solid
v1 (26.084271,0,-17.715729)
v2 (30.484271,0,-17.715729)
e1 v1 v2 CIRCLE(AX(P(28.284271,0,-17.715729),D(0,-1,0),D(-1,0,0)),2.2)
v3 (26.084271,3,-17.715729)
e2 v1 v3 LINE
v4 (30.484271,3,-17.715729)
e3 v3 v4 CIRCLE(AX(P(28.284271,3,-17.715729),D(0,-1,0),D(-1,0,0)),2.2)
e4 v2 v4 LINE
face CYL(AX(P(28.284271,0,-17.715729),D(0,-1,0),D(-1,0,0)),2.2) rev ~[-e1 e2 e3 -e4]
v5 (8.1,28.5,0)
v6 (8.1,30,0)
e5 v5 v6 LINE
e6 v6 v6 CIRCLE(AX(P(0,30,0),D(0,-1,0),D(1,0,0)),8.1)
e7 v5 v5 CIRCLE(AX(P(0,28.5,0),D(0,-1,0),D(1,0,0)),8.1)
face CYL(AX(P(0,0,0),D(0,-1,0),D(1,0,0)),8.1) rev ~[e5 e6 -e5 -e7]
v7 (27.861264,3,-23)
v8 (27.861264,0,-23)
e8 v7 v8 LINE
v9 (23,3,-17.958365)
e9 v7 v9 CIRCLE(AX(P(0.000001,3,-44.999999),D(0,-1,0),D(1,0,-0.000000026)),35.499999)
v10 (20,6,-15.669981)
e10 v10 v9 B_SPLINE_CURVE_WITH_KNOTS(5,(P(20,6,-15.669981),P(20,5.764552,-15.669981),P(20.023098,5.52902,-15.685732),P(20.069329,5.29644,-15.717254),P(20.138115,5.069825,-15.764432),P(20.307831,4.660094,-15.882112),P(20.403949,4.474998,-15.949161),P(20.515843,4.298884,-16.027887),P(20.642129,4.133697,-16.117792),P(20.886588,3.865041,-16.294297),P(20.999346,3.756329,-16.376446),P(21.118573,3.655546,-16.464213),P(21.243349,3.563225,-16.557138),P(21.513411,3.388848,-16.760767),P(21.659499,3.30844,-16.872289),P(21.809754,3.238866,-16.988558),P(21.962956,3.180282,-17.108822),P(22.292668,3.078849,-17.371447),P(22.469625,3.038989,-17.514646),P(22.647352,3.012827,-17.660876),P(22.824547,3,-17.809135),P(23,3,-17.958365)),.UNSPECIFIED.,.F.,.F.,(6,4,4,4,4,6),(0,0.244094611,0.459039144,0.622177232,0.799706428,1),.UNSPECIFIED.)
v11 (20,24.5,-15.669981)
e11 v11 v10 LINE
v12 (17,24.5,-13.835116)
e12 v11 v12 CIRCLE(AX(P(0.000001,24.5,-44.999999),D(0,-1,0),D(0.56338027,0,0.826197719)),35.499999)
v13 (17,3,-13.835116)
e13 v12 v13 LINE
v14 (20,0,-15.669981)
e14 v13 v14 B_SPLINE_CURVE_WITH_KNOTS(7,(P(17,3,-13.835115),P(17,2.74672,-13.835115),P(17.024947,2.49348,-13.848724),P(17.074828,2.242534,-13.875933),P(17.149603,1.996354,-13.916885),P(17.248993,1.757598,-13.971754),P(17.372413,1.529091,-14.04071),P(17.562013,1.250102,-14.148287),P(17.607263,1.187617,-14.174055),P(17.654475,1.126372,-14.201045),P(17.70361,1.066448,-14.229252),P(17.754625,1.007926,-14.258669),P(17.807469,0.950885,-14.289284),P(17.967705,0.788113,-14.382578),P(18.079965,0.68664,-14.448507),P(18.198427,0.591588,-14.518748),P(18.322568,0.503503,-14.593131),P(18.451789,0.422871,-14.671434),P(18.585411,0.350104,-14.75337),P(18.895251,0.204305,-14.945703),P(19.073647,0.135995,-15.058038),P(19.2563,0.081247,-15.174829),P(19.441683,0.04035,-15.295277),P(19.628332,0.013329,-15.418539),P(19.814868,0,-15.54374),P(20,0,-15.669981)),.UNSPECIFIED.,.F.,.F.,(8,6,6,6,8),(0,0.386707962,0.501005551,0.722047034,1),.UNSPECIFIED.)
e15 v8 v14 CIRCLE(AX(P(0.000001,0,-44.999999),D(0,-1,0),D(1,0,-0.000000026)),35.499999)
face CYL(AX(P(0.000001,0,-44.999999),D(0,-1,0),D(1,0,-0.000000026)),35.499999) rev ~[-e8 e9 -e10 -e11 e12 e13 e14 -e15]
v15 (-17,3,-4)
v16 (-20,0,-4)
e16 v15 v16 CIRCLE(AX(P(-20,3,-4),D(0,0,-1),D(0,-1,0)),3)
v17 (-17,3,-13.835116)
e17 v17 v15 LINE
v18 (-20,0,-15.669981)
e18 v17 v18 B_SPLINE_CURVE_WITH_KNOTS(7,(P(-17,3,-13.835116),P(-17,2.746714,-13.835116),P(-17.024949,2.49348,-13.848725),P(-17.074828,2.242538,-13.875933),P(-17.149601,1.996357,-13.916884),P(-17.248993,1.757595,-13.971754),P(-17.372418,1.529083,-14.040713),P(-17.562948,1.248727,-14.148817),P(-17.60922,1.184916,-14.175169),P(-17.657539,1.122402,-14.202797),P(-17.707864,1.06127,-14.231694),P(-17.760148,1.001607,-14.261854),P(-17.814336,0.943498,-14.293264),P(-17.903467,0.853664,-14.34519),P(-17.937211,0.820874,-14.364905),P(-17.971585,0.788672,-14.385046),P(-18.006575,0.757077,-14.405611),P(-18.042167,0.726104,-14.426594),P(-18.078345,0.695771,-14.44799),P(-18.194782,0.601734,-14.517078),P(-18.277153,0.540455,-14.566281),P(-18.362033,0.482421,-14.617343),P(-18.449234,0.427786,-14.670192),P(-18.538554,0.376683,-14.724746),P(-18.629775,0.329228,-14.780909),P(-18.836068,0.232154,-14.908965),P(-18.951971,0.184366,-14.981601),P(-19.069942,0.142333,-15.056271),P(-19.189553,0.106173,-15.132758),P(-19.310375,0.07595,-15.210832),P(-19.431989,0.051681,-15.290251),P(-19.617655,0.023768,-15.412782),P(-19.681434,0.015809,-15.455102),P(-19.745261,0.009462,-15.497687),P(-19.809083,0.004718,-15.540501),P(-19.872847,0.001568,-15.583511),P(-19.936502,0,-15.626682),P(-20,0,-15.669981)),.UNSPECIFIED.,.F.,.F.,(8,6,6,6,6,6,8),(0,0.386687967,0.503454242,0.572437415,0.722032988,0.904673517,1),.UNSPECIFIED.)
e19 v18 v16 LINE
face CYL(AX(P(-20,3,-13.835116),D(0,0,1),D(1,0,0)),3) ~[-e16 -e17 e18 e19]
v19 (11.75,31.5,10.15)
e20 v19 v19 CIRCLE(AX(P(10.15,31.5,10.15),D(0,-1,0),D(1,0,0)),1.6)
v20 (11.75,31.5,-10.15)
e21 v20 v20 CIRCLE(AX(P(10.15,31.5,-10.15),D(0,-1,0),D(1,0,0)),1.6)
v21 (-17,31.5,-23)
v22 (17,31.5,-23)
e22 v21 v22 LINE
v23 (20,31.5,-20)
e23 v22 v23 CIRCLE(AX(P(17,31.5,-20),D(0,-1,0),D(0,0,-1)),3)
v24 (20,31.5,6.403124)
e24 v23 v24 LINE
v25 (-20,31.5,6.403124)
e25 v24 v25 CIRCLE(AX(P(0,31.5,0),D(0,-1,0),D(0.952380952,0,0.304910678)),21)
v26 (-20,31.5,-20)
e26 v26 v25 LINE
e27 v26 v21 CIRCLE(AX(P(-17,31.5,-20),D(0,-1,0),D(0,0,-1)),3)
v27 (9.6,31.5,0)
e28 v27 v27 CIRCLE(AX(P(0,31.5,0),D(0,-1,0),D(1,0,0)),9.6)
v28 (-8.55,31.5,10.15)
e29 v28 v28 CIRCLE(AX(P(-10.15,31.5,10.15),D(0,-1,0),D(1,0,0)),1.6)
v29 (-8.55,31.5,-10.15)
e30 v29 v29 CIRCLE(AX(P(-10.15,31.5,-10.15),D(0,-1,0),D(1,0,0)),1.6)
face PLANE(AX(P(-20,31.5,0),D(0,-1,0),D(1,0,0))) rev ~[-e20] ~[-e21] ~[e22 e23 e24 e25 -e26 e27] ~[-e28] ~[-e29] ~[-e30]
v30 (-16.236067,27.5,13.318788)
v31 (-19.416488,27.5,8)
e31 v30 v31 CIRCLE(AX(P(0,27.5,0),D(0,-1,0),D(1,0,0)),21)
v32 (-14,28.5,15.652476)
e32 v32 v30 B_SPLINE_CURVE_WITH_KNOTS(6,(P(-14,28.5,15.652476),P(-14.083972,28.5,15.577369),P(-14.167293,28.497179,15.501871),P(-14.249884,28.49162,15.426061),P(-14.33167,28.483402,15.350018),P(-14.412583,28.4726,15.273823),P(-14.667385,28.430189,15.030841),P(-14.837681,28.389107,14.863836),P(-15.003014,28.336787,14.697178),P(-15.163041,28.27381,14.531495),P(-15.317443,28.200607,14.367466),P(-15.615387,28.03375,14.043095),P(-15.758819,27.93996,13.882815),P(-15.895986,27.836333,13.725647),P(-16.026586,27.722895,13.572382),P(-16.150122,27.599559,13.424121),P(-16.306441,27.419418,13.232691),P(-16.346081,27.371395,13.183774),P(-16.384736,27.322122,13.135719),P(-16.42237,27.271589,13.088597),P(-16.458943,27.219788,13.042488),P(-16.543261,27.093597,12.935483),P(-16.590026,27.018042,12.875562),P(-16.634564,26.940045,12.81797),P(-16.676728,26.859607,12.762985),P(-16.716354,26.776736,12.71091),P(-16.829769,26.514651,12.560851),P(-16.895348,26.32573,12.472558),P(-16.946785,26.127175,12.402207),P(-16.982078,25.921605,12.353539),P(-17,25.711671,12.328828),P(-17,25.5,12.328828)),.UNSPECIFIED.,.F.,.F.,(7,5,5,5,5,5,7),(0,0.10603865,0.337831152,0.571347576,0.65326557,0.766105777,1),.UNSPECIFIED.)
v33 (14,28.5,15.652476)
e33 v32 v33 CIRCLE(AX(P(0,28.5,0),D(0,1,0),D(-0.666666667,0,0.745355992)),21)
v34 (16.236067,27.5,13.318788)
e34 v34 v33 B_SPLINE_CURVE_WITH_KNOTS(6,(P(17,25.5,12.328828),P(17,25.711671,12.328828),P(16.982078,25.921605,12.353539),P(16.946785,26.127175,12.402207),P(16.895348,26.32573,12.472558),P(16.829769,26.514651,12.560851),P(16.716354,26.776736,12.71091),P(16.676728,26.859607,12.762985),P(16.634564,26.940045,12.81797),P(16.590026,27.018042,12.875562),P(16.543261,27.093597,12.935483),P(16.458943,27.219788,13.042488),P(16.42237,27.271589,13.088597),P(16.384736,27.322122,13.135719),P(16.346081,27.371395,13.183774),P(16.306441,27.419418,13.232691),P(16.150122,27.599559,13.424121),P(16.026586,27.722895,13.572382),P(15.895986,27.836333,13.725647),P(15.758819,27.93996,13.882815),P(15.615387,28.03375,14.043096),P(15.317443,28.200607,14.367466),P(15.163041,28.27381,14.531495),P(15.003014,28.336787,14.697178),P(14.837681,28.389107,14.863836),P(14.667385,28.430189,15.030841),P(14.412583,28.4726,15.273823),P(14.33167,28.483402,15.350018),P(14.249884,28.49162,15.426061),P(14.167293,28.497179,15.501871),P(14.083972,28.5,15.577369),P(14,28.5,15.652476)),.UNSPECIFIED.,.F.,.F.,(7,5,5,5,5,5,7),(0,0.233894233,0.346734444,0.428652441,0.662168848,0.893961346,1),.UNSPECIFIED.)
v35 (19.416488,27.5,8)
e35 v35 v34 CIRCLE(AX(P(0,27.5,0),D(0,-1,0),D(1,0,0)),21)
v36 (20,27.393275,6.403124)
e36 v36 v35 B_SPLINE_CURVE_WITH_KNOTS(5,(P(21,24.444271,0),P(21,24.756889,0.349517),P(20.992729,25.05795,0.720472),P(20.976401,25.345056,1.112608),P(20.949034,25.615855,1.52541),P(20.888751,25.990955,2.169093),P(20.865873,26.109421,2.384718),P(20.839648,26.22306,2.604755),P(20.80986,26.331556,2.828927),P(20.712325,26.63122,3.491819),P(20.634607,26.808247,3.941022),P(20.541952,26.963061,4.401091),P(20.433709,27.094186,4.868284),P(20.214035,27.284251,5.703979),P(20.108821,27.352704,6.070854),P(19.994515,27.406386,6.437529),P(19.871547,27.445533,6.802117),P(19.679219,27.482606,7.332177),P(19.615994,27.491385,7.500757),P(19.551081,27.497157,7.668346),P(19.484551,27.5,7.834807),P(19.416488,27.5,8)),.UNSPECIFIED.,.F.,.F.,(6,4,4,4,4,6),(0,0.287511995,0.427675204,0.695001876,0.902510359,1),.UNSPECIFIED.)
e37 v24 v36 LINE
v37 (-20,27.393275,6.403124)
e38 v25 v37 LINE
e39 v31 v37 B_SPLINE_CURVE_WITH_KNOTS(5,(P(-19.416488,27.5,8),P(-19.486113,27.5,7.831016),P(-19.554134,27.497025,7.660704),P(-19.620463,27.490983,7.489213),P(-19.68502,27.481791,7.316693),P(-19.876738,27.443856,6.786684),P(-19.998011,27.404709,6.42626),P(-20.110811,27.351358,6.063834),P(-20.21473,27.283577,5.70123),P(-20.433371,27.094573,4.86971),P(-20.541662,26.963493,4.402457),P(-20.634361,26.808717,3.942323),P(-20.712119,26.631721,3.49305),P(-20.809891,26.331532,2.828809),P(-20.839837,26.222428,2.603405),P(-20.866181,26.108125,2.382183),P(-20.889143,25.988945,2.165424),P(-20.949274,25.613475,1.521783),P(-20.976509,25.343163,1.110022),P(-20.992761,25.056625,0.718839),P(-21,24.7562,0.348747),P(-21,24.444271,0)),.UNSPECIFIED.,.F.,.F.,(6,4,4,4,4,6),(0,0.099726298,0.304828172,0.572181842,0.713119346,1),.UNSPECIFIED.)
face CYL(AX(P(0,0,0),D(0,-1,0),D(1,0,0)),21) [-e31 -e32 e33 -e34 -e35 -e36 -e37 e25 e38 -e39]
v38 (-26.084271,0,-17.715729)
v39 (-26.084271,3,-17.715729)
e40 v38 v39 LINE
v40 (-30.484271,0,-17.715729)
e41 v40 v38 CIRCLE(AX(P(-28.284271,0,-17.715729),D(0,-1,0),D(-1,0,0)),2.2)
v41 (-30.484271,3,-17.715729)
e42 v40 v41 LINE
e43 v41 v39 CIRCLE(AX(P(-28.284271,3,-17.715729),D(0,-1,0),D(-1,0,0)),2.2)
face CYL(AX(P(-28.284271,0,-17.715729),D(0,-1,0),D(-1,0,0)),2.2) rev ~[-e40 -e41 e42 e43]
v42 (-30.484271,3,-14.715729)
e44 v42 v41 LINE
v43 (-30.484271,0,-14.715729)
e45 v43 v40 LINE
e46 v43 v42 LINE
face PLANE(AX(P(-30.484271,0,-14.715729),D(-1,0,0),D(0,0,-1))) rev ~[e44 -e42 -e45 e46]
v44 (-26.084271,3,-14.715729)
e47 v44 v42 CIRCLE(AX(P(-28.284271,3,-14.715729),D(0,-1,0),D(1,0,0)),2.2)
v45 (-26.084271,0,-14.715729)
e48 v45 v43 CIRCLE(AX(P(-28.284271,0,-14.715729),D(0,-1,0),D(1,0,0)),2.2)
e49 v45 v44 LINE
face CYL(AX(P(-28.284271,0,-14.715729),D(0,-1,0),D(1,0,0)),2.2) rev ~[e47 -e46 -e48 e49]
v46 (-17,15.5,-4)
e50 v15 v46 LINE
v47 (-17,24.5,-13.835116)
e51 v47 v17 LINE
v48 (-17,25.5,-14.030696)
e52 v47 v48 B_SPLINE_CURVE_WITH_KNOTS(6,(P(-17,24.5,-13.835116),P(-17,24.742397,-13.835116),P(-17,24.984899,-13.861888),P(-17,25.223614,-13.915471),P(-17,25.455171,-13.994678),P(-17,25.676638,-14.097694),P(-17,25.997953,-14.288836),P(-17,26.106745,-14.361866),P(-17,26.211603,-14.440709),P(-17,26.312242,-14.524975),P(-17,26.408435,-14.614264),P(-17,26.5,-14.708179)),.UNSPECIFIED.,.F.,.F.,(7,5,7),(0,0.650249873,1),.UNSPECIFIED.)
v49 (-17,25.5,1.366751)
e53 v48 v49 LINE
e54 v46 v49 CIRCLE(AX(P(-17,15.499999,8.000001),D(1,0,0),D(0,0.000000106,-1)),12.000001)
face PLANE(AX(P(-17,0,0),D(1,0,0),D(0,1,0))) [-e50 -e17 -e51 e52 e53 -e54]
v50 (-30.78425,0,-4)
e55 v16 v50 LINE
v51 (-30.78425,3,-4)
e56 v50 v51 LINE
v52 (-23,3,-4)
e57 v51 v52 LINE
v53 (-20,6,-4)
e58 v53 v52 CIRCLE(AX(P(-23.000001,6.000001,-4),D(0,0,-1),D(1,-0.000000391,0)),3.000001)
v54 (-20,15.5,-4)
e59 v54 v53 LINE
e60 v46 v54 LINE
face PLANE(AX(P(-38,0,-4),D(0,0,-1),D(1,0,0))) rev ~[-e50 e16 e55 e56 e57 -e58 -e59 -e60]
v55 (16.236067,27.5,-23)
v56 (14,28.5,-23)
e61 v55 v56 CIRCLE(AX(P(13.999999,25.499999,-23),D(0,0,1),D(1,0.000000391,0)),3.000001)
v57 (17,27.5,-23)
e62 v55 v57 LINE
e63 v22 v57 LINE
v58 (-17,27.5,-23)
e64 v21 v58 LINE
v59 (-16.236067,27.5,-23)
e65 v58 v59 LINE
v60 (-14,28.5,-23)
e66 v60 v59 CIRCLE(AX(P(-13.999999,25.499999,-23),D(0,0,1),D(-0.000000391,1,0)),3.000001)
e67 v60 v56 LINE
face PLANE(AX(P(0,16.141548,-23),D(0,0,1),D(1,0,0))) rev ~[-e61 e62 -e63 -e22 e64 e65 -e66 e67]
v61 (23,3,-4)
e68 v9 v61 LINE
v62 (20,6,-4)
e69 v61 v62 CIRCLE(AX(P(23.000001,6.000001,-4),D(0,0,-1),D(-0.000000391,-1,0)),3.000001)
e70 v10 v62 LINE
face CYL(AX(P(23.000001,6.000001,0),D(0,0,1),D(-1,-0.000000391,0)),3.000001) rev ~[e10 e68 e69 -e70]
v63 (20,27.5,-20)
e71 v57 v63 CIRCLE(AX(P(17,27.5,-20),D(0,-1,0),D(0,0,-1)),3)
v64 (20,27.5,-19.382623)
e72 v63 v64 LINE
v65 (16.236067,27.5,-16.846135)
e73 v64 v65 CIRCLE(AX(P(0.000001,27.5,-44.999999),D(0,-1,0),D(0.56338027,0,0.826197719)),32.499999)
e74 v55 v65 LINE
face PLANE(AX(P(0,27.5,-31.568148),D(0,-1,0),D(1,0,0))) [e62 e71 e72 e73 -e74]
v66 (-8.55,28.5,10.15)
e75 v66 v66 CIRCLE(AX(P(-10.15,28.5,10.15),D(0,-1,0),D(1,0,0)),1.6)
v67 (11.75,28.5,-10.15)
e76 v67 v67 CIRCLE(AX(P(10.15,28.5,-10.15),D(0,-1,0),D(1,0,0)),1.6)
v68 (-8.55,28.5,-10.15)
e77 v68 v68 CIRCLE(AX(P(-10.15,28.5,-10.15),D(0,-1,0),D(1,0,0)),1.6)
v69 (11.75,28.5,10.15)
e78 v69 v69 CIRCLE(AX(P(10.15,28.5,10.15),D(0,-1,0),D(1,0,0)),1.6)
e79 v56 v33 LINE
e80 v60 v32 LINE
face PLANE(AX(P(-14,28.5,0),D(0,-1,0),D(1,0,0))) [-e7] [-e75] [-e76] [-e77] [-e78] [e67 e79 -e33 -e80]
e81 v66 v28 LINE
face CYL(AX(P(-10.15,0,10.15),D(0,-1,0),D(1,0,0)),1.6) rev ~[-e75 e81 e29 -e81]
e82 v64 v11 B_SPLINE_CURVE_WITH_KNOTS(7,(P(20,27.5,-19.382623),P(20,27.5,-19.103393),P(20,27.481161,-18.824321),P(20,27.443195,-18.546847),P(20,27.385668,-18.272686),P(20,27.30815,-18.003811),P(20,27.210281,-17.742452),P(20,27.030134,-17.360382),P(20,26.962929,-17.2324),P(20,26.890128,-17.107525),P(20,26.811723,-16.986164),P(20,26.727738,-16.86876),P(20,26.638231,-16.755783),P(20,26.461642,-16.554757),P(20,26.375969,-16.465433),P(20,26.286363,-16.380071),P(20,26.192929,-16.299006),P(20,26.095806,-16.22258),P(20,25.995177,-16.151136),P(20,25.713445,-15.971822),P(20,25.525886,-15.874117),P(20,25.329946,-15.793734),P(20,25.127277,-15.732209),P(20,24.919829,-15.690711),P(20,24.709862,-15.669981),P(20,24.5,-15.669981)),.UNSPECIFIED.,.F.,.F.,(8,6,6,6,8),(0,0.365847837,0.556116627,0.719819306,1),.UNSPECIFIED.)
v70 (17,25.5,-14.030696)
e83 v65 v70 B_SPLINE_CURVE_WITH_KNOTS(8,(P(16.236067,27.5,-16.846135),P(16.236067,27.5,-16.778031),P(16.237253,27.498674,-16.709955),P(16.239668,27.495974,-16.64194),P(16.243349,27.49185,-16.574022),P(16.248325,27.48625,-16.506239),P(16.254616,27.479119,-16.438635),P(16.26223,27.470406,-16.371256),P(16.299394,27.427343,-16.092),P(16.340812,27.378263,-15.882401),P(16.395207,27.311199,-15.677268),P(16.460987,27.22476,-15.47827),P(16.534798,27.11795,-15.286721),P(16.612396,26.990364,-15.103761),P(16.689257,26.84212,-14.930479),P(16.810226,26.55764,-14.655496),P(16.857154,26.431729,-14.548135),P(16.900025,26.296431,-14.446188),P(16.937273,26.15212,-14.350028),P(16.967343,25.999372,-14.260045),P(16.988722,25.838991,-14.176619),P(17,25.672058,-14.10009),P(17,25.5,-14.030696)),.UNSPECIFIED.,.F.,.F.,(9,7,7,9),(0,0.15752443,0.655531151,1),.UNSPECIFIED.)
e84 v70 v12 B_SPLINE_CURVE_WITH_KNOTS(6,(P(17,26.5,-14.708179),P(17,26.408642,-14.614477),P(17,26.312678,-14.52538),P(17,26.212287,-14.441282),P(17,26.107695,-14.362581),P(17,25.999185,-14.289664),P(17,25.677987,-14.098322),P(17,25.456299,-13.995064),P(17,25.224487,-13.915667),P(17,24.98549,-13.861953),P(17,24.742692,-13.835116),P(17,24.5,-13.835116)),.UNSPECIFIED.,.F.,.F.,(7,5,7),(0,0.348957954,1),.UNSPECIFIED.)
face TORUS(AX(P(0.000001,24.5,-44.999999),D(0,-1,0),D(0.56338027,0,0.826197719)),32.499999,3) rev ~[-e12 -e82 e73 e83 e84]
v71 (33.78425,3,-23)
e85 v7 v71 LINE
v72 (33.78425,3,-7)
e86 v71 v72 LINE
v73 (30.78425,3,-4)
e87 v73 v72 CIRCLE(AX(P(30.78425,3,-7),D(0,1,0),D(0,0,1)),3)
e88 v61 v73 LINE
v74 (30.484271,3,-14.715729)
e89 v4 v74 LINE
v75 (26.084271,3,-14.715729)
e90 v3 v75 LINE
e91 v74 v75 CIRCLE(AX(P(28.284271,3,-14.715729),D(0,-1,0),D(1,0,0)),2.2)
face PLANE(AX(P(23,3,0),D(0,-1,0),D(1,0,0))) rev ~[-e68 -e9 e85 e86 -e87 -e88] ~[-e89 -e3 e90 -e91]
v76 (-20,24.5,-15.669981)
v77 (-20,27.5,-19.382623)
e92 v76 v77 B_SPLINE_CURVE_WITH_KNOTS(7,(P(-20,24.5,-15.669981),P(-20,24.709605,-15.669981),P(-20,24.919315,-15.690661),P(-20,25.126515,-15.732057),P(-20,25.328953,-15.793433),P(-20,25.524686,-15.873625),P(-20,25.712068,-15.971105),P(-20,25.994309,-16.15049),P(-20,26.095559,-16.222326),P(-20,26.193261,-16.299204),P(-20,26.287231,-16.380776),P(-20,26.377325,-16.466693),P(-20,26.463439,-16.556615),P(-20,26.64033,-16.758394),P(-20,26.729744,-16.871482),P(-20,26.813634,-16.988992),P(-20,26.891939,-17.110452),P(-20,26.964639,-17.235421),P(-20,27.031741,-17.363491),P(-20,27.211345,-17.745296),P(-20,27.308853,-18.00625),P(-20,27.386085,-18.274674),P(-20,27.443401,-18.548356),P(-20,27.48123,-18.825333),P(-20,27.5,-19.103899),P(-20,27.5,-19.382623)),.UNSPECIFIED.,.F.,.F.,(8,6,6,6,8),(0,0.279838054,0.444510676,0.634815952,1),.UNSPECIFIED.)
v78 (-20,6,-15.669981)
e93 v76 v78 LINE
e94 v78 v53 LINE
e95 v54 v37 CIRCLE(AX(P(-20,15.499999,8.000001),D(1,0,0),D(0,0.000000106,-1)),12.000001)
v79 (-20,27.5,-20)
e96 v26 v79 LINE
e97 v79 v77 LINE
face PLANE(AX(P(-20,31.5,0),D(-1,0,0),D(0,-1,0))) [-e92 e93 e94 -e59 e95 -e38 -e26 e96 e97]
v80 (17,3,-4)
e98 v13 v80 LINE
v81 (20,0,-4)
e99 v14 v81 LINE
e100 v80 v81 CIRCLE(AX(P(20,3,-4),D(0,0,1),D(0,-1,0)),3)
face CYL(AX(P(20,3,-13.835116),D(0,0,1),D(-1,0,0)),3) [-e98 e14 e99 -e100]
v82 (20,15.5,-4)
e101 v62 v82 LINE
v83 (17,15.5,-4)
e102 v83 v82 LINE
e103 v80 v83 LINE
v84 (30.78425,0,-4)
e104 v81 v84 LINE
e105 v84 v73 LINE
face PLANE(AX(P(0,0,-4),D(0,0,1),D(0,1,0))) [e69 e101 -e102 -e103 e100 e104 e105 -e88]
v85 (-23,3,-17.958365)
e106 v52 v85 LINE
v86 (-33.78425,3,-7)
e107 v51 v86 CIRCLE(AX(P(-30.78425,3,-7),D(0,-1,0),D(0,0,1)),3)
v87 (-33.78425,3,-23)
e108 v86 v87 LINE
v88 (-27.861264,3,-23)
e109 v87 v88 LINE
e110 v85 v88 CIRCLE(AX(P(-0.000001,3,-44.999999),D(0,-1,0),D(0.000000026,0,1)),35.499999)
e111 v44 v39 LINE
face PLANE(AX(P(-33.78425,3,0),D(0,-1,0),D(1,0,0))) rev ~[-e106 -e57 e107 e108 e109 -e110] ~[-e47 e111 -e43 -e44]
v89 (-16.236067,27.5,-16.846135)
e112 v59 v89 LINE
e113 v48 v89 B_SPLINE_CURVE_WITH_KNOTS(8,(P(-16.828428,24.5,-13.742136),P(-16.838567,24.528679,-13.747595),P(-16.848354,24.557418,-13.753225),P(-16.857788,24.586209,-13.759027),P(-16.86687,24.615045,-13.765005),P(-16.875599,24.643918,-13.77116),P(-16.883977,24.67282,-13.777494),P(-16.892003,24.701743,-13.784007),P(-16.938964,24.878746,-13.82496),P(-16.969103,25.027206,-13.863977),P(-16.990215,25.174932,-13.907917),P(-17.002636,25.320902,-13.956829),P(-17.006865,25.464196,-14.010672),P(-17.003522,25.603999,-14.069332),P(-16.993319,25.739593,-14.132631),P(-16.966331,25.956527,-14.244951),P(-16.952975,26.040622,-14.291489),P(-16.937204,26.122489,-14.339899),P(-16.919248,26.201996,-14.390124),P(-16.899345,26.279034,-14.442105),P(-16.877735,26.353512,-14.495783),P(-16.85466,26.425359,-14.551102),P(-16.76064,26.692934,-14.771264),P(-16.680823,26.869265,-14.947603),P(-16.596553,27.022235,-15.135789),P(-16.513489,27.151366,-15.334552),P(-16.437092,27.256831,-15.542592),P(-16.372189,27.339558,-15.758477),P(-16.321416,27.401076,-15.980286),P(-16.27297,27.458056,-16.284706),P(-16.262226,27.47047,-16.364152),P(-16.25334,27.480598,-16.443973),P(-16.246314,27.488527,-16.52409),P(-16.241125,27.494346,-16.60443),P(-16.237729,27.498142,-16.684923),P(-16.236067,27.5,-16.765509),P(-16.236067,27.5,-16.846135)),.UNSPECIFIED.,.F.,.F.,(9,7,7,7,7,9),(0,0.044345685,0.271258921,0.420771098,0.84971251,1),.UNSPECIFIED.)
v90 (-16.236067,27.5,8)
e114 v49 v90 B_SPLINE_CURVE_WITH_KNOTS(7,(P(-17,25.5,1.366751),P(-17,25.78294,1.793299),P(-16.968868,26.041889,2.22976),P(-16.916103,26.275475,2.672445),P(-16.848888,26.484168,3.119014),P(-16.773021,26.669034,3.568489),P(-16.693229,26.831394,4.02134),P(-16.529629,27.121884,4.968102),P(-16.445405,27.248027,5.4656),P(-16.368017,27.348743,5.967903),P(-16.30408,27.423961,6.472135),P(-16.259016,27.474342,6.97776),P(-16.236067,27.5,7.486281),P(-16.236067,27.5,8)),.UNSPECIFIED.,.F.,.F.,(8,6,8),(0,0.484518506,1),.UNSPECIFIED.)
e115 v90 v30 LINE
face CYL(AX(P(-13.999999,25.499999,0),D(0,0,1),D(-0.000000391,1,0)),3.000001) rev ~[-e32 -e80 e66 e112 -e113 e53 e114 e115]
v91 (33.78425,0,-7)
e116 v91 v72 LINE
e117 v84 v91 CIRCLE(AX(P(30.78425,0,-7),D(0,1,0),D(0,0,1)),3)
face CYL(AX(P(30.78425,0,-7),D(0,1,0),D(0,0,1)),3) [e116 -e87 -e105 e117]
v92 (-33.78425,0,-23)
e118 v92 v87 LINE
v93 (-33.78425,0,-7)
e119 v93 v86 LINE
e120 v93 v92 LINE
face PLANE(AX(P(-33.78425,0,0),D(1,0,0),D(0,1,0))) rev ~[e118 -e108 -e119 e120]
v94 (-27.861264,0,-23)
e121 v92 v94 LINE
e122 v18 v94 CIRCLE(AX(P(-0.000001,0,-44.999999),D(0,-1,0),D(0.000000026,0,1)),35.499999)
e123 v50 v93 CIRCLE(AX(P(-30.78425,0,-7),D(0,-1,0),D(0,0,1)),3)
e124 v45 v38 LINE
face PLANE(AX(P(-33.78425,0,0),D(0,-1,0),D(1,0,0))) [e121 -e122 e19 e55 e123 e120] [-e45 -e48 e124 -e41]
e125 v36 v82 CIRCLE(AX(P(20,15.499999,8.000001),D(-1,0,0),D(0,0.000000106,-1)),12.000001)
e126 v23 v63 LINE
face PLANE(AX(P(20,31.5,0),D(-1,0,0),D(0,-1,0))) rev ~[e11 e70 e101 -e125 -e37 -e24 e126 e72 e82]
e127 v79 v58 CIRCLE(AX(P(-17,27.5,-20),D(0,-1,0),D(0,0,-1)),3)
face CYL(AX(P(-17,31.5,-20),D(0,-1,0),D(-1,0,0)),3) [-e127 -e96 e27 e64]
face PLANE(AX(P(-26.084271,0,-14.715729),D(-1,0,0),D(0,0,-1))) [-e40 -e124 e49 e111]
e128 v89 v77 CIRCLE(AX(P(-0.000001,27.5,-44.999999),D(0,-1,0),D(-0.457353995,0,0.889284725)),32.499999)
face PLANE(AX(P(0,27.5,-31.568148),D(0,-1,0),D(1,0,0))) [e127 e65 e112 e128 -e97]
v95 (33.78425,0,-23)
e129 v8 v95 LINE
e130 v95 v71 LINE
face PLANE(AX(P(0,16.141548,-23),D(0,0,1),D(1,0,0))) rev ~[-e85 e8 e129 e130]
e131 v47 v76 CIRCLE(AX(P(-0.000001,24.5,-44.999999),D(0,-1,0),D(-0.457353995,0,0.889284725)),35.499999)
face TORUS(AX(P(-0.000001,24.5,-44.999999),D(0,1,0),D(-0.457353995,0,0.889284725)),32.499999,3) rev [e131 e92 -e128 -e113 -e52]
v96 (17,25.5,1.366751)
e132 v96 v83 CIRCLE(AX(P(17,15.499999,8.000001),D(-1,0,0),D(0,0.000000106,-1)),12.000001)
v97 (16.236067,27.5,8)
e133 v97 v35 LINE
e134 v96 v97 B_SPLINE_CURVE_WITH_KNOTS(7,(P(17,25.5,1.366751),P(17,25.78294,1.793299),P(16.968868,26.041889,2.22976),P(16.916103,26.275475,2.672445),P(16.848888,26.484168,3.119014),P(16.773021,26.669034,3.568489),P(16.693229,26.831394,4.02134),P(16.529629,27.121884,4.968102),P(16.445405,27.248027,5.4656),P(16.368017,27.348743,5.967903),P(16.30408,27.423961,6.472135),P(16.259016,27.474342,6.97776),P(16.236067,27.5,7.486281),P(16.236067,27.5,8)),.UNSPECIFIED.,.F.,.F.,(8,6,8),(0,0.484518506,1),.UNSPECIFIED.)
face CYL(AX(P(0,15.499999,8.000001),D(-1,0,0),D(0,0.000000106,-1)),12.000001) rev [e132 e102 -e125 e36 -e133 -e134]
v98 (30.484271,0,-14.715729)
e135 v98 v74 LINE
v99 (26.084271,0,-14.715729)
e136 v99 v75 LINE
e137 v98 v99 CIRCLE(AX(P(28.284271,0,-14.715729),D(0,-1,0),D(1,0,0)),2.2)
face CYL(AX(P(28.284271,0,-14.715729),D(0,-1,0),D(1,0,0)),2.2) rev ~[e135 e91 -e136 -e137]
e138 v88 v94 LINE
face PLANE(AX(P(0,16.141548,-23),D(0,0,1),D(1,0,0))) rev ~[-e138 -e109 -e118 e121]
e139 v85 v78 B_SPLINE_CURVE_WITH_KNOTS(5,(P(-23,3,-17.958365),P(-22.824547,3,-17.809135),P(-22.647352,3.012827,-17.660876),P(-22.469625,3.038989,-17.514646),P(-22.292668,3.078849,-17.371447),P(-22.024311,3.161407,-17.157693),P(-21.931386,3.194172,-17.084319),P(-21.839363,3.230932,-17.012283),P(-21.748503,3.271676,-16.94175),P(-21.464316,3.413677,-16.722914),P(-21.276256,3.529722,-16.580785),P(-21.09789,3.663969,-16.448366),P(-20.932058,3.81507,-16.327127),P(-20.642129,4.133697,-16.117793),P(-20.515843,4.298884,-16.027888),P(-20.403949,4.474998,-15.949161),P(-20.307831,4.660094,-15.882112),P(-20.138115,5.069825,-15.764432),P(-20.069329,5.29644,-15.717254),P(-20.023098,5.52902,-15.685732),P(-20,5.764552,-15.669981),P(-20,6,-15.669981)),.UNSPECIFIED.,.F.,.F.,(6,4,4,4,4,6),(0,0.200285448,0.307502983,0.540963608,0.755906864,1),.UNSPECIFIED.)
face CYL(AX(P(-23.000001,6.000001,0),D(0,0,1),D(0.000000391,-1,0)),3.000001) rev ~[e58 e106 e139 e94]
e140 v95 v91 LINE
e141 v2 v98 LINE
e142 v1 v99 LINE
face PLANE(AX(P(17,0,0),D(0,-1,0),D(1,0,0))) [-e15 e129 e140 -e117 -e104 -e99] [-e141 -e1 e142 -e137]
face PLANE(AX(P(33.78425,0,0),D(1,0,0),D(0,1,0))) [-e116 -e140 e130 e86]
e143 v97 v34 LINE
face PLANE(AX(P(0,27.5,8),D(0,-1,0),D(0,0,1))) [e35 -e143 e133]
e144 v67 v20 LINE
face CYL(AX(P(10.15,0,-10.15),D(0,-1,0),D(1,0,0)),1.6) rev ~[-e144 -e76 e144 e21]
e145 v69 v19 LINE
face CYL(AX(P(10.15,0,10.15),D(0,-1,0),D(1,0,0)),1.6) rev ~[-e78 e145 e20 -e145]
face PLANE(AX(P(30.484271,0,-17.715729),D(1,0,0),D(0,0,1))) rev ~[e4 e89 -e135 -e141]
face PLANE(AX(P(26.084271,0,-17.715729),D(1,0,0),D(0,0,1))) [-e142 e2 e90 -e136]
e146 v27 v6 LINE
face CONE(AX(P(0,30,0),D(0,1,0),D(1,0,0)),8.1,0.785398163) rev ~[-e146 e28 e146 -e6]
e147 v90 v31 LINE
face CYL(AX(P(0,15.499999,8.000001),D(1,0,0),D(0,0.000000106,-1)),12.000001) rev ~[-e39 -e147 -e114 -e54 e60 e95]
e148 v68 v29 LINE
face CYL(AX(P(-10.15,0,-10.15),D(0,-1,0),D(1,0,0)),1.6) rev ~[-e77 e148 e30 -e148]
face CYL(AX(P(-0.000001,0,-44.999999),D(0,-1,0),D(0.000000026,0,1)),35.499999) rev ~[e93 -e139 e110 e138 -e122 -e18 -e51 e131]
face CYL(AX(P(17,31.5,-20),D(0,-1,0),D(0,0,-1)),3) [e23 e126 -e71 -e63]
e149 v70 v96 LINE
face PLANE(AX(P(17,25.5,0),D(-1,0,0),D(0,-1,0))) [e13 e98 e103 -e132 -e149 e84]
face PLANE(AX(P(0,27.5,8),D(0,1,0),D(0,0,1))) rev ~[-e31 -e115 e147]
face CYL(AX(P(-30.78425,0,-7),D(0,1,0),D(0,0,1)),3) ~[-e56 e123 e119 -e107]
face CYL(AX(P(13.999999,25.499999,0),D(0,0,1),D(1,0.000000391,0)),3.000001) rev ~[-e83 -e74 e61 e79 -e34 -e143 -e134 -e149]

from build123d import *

# Parameters (mm, degrees)
PAD_DEPTH            = 21
PAD_DEPTH_BACK       = 23
POCKET_DEPTH         = 27.5
POCKET001_DEPTH      = 31.501
POCKET002_DEPTH      = 33.78525
POCKET002_DEPTH_BACK = -33.78525
SKETCH004_R          = 1.6
SKETCH004_R_2        = 8.1
POCKET003_DEPTH      = 31.501
CHAMFER_SIZE         = 1.5
FILLET_R             = 3


with BuildPart() as part:
    # Sketch → Pad (new body, two sides)
    with BuildSketch(Plane.XY) as pad_sk:
        with BuildLine():
            Line((-33.78425, 0), (-17, 0))
            Line((-17, 0), (-17, 25.5))
            ThreePointArc((-14, 28.5), (-16.12132, 27.62132), (-17, 25.5))
            Line((-14, 28.5), (14, 28.5))
            ThreePointArc((17, 25.5), (16.12132, 27.62132), (14, 28.5))
            Line((17, 25.5), (17, 0))
            Line((17, 0), (33.78425, 0))
            Line((33.78425, 0), (33.78425, 3))
            Line((23, 3), (33.78425, 3))
            ThreePointArc((20, 6), (20.87868, 3.87868), (23, 3))
            Line((20, 31.5), (20, 6))
            Line((-20, 31.5), (20, 31.5))
            Line((-20, 31.5), (-20, 6))
            ThreePointArc((-23, 3), (-20.87868, 3.87868), (-20, 6))
            Line((-33.78425, 3), (-23, 3))
            Line((-33.78425, 0), (-33.78425, 3))
        make_face()
    extrude(amount=PAD_DEPTH)
    extrude(pad_sk.sketch, amount=-PAD_DEPTH_BACK)

    # Sketch001 → Pocket (cut)
    with BuildSketch(Plane.XZ):
        with BuildLine():
            ThreePointArc((26.084271, -17.715729), (28.284271, -19.915729), (30.484271, -17.715729))
            Line((30.484271, -17.715729), (30.484271, -14.715729))
            ThreePointArc((30.484271, -14.715729), (28.284271, -12.515729), (26.084271, -14.715729))
            Line((26.084271, -17.715729), (26.084271, -14.715729))
        make_face()
        with BuildLine():
            ThreePointArc((-26.084271, -14.715729), (-28.284271, -12.515729), (-30.484271, -14.715729))
            Line((-30.484271, -14.715729), (-30.484271, -17.715729))
            ThreePointArc((-30.484271, -17.715729), (-28.284271, -19.915729), (-26.084271, -17.715729))
            Line((-26.084271, -14.715729), (-26.084271, -17.715729))
        make_face()
        with BuildLine():
            Line((-35.5, -45), (35.5, -45))
            ThreePointArc((35.5, -45), (25.102291, -19.897709), (0, -9.5))
            ThreePointArc((0, -9.5), (-25.102291, -19.897709), (-35.5, -45))
        make_face()
    extrude(amount=-POCKET_DEPTH, mode=Mode.SUBTRACT)

    # Sketch002 → Pocket001 (cut, through all)
    with BuildSketch(Plane.XZ):
        with BuildLine():
            ThreePointArc((21, 0), (0, 21), (-21, 0))
            Line((-21, -4), (-21, 0))
            Line((-38, -4), (-21, -4))
            Line((-38, 34), (-38, -4))
            Line((38, 34), (-38, 34))
            Line((38, -4), (38, 34))
            Line((21, -4), (38, -4))
            Line((21, 0), (21, -4))
        make_face()
    extrude(amount=-POCKET001_DEPTH, mode=Mode.SUBTRACT)

    # Sketch005 → Pocket002 (cut, two sides)
    with BuildSketch(Plane.YZ) as pocket002_sk:
        with BuildLine():
            Line((0, -4), (15.5, -4))
            ThreePointArc((15.5, -4), (23.985281, -0.485281), (27.5, 8))
            Line((27.5, 8), (27.5, 26))
            Line((27.5, 26), (0, 26))
            Line((0, 26), (0, -4))
        make_face()
    extrude(amount=-POCKET002_DEPTH, mode=Mode.SUBTRACT)
    extrude(pocket002_sk.sketch, amount=-POCKET002_DEPTH_BACK, mode=Mode.SUBTRACT)

    # Sketch004 → Pocket003 (cut, through all)
    with BuildSketch(Plane.XZ):
        with Locations((-10.15, 10.15)):
            Circle(SKETCH004_R)
        with Locations((10.15, 10.15)):
            Circle(SKETCH004_R)
        with Locations((10.15, -10.15)):
            Circle(SKETCH004_R)
        with Locations((-10.15, -10.15)):
            Circle(SKETCH004_R)
        Circle(SKETCH004_R_2)
    extrude(amount=-POCKET003_DEPTH, mode=Mode.SUBTRACT)

    # Chamfer
    chamfer_edges = [part.edges().sort_by_distance(p)[0] for p in [
        (-8.1, 31.5, 0),
    ]]
    chamfer(chamfer_edges, length=CHAMFER_SIZE)

    # Fillet
    fillet_edges = [part.edges().sort_by_distance(p)[0] for p in [
        (33.78425, 1.5, -4),
        (-33.78425, 1.5, -4),
        (-20, 29.5, -23),
        (20, 29.5, -23),
        (-17, 0, -8.917558),
        (17, 0, -8.917558),
        (-18.152606, 27.5, -14.492085),
        (18.152606, 27.5, -14.492085),
    ]]
    fillet(fillet_edges, radius=FILLET_R)


solid = part.part
